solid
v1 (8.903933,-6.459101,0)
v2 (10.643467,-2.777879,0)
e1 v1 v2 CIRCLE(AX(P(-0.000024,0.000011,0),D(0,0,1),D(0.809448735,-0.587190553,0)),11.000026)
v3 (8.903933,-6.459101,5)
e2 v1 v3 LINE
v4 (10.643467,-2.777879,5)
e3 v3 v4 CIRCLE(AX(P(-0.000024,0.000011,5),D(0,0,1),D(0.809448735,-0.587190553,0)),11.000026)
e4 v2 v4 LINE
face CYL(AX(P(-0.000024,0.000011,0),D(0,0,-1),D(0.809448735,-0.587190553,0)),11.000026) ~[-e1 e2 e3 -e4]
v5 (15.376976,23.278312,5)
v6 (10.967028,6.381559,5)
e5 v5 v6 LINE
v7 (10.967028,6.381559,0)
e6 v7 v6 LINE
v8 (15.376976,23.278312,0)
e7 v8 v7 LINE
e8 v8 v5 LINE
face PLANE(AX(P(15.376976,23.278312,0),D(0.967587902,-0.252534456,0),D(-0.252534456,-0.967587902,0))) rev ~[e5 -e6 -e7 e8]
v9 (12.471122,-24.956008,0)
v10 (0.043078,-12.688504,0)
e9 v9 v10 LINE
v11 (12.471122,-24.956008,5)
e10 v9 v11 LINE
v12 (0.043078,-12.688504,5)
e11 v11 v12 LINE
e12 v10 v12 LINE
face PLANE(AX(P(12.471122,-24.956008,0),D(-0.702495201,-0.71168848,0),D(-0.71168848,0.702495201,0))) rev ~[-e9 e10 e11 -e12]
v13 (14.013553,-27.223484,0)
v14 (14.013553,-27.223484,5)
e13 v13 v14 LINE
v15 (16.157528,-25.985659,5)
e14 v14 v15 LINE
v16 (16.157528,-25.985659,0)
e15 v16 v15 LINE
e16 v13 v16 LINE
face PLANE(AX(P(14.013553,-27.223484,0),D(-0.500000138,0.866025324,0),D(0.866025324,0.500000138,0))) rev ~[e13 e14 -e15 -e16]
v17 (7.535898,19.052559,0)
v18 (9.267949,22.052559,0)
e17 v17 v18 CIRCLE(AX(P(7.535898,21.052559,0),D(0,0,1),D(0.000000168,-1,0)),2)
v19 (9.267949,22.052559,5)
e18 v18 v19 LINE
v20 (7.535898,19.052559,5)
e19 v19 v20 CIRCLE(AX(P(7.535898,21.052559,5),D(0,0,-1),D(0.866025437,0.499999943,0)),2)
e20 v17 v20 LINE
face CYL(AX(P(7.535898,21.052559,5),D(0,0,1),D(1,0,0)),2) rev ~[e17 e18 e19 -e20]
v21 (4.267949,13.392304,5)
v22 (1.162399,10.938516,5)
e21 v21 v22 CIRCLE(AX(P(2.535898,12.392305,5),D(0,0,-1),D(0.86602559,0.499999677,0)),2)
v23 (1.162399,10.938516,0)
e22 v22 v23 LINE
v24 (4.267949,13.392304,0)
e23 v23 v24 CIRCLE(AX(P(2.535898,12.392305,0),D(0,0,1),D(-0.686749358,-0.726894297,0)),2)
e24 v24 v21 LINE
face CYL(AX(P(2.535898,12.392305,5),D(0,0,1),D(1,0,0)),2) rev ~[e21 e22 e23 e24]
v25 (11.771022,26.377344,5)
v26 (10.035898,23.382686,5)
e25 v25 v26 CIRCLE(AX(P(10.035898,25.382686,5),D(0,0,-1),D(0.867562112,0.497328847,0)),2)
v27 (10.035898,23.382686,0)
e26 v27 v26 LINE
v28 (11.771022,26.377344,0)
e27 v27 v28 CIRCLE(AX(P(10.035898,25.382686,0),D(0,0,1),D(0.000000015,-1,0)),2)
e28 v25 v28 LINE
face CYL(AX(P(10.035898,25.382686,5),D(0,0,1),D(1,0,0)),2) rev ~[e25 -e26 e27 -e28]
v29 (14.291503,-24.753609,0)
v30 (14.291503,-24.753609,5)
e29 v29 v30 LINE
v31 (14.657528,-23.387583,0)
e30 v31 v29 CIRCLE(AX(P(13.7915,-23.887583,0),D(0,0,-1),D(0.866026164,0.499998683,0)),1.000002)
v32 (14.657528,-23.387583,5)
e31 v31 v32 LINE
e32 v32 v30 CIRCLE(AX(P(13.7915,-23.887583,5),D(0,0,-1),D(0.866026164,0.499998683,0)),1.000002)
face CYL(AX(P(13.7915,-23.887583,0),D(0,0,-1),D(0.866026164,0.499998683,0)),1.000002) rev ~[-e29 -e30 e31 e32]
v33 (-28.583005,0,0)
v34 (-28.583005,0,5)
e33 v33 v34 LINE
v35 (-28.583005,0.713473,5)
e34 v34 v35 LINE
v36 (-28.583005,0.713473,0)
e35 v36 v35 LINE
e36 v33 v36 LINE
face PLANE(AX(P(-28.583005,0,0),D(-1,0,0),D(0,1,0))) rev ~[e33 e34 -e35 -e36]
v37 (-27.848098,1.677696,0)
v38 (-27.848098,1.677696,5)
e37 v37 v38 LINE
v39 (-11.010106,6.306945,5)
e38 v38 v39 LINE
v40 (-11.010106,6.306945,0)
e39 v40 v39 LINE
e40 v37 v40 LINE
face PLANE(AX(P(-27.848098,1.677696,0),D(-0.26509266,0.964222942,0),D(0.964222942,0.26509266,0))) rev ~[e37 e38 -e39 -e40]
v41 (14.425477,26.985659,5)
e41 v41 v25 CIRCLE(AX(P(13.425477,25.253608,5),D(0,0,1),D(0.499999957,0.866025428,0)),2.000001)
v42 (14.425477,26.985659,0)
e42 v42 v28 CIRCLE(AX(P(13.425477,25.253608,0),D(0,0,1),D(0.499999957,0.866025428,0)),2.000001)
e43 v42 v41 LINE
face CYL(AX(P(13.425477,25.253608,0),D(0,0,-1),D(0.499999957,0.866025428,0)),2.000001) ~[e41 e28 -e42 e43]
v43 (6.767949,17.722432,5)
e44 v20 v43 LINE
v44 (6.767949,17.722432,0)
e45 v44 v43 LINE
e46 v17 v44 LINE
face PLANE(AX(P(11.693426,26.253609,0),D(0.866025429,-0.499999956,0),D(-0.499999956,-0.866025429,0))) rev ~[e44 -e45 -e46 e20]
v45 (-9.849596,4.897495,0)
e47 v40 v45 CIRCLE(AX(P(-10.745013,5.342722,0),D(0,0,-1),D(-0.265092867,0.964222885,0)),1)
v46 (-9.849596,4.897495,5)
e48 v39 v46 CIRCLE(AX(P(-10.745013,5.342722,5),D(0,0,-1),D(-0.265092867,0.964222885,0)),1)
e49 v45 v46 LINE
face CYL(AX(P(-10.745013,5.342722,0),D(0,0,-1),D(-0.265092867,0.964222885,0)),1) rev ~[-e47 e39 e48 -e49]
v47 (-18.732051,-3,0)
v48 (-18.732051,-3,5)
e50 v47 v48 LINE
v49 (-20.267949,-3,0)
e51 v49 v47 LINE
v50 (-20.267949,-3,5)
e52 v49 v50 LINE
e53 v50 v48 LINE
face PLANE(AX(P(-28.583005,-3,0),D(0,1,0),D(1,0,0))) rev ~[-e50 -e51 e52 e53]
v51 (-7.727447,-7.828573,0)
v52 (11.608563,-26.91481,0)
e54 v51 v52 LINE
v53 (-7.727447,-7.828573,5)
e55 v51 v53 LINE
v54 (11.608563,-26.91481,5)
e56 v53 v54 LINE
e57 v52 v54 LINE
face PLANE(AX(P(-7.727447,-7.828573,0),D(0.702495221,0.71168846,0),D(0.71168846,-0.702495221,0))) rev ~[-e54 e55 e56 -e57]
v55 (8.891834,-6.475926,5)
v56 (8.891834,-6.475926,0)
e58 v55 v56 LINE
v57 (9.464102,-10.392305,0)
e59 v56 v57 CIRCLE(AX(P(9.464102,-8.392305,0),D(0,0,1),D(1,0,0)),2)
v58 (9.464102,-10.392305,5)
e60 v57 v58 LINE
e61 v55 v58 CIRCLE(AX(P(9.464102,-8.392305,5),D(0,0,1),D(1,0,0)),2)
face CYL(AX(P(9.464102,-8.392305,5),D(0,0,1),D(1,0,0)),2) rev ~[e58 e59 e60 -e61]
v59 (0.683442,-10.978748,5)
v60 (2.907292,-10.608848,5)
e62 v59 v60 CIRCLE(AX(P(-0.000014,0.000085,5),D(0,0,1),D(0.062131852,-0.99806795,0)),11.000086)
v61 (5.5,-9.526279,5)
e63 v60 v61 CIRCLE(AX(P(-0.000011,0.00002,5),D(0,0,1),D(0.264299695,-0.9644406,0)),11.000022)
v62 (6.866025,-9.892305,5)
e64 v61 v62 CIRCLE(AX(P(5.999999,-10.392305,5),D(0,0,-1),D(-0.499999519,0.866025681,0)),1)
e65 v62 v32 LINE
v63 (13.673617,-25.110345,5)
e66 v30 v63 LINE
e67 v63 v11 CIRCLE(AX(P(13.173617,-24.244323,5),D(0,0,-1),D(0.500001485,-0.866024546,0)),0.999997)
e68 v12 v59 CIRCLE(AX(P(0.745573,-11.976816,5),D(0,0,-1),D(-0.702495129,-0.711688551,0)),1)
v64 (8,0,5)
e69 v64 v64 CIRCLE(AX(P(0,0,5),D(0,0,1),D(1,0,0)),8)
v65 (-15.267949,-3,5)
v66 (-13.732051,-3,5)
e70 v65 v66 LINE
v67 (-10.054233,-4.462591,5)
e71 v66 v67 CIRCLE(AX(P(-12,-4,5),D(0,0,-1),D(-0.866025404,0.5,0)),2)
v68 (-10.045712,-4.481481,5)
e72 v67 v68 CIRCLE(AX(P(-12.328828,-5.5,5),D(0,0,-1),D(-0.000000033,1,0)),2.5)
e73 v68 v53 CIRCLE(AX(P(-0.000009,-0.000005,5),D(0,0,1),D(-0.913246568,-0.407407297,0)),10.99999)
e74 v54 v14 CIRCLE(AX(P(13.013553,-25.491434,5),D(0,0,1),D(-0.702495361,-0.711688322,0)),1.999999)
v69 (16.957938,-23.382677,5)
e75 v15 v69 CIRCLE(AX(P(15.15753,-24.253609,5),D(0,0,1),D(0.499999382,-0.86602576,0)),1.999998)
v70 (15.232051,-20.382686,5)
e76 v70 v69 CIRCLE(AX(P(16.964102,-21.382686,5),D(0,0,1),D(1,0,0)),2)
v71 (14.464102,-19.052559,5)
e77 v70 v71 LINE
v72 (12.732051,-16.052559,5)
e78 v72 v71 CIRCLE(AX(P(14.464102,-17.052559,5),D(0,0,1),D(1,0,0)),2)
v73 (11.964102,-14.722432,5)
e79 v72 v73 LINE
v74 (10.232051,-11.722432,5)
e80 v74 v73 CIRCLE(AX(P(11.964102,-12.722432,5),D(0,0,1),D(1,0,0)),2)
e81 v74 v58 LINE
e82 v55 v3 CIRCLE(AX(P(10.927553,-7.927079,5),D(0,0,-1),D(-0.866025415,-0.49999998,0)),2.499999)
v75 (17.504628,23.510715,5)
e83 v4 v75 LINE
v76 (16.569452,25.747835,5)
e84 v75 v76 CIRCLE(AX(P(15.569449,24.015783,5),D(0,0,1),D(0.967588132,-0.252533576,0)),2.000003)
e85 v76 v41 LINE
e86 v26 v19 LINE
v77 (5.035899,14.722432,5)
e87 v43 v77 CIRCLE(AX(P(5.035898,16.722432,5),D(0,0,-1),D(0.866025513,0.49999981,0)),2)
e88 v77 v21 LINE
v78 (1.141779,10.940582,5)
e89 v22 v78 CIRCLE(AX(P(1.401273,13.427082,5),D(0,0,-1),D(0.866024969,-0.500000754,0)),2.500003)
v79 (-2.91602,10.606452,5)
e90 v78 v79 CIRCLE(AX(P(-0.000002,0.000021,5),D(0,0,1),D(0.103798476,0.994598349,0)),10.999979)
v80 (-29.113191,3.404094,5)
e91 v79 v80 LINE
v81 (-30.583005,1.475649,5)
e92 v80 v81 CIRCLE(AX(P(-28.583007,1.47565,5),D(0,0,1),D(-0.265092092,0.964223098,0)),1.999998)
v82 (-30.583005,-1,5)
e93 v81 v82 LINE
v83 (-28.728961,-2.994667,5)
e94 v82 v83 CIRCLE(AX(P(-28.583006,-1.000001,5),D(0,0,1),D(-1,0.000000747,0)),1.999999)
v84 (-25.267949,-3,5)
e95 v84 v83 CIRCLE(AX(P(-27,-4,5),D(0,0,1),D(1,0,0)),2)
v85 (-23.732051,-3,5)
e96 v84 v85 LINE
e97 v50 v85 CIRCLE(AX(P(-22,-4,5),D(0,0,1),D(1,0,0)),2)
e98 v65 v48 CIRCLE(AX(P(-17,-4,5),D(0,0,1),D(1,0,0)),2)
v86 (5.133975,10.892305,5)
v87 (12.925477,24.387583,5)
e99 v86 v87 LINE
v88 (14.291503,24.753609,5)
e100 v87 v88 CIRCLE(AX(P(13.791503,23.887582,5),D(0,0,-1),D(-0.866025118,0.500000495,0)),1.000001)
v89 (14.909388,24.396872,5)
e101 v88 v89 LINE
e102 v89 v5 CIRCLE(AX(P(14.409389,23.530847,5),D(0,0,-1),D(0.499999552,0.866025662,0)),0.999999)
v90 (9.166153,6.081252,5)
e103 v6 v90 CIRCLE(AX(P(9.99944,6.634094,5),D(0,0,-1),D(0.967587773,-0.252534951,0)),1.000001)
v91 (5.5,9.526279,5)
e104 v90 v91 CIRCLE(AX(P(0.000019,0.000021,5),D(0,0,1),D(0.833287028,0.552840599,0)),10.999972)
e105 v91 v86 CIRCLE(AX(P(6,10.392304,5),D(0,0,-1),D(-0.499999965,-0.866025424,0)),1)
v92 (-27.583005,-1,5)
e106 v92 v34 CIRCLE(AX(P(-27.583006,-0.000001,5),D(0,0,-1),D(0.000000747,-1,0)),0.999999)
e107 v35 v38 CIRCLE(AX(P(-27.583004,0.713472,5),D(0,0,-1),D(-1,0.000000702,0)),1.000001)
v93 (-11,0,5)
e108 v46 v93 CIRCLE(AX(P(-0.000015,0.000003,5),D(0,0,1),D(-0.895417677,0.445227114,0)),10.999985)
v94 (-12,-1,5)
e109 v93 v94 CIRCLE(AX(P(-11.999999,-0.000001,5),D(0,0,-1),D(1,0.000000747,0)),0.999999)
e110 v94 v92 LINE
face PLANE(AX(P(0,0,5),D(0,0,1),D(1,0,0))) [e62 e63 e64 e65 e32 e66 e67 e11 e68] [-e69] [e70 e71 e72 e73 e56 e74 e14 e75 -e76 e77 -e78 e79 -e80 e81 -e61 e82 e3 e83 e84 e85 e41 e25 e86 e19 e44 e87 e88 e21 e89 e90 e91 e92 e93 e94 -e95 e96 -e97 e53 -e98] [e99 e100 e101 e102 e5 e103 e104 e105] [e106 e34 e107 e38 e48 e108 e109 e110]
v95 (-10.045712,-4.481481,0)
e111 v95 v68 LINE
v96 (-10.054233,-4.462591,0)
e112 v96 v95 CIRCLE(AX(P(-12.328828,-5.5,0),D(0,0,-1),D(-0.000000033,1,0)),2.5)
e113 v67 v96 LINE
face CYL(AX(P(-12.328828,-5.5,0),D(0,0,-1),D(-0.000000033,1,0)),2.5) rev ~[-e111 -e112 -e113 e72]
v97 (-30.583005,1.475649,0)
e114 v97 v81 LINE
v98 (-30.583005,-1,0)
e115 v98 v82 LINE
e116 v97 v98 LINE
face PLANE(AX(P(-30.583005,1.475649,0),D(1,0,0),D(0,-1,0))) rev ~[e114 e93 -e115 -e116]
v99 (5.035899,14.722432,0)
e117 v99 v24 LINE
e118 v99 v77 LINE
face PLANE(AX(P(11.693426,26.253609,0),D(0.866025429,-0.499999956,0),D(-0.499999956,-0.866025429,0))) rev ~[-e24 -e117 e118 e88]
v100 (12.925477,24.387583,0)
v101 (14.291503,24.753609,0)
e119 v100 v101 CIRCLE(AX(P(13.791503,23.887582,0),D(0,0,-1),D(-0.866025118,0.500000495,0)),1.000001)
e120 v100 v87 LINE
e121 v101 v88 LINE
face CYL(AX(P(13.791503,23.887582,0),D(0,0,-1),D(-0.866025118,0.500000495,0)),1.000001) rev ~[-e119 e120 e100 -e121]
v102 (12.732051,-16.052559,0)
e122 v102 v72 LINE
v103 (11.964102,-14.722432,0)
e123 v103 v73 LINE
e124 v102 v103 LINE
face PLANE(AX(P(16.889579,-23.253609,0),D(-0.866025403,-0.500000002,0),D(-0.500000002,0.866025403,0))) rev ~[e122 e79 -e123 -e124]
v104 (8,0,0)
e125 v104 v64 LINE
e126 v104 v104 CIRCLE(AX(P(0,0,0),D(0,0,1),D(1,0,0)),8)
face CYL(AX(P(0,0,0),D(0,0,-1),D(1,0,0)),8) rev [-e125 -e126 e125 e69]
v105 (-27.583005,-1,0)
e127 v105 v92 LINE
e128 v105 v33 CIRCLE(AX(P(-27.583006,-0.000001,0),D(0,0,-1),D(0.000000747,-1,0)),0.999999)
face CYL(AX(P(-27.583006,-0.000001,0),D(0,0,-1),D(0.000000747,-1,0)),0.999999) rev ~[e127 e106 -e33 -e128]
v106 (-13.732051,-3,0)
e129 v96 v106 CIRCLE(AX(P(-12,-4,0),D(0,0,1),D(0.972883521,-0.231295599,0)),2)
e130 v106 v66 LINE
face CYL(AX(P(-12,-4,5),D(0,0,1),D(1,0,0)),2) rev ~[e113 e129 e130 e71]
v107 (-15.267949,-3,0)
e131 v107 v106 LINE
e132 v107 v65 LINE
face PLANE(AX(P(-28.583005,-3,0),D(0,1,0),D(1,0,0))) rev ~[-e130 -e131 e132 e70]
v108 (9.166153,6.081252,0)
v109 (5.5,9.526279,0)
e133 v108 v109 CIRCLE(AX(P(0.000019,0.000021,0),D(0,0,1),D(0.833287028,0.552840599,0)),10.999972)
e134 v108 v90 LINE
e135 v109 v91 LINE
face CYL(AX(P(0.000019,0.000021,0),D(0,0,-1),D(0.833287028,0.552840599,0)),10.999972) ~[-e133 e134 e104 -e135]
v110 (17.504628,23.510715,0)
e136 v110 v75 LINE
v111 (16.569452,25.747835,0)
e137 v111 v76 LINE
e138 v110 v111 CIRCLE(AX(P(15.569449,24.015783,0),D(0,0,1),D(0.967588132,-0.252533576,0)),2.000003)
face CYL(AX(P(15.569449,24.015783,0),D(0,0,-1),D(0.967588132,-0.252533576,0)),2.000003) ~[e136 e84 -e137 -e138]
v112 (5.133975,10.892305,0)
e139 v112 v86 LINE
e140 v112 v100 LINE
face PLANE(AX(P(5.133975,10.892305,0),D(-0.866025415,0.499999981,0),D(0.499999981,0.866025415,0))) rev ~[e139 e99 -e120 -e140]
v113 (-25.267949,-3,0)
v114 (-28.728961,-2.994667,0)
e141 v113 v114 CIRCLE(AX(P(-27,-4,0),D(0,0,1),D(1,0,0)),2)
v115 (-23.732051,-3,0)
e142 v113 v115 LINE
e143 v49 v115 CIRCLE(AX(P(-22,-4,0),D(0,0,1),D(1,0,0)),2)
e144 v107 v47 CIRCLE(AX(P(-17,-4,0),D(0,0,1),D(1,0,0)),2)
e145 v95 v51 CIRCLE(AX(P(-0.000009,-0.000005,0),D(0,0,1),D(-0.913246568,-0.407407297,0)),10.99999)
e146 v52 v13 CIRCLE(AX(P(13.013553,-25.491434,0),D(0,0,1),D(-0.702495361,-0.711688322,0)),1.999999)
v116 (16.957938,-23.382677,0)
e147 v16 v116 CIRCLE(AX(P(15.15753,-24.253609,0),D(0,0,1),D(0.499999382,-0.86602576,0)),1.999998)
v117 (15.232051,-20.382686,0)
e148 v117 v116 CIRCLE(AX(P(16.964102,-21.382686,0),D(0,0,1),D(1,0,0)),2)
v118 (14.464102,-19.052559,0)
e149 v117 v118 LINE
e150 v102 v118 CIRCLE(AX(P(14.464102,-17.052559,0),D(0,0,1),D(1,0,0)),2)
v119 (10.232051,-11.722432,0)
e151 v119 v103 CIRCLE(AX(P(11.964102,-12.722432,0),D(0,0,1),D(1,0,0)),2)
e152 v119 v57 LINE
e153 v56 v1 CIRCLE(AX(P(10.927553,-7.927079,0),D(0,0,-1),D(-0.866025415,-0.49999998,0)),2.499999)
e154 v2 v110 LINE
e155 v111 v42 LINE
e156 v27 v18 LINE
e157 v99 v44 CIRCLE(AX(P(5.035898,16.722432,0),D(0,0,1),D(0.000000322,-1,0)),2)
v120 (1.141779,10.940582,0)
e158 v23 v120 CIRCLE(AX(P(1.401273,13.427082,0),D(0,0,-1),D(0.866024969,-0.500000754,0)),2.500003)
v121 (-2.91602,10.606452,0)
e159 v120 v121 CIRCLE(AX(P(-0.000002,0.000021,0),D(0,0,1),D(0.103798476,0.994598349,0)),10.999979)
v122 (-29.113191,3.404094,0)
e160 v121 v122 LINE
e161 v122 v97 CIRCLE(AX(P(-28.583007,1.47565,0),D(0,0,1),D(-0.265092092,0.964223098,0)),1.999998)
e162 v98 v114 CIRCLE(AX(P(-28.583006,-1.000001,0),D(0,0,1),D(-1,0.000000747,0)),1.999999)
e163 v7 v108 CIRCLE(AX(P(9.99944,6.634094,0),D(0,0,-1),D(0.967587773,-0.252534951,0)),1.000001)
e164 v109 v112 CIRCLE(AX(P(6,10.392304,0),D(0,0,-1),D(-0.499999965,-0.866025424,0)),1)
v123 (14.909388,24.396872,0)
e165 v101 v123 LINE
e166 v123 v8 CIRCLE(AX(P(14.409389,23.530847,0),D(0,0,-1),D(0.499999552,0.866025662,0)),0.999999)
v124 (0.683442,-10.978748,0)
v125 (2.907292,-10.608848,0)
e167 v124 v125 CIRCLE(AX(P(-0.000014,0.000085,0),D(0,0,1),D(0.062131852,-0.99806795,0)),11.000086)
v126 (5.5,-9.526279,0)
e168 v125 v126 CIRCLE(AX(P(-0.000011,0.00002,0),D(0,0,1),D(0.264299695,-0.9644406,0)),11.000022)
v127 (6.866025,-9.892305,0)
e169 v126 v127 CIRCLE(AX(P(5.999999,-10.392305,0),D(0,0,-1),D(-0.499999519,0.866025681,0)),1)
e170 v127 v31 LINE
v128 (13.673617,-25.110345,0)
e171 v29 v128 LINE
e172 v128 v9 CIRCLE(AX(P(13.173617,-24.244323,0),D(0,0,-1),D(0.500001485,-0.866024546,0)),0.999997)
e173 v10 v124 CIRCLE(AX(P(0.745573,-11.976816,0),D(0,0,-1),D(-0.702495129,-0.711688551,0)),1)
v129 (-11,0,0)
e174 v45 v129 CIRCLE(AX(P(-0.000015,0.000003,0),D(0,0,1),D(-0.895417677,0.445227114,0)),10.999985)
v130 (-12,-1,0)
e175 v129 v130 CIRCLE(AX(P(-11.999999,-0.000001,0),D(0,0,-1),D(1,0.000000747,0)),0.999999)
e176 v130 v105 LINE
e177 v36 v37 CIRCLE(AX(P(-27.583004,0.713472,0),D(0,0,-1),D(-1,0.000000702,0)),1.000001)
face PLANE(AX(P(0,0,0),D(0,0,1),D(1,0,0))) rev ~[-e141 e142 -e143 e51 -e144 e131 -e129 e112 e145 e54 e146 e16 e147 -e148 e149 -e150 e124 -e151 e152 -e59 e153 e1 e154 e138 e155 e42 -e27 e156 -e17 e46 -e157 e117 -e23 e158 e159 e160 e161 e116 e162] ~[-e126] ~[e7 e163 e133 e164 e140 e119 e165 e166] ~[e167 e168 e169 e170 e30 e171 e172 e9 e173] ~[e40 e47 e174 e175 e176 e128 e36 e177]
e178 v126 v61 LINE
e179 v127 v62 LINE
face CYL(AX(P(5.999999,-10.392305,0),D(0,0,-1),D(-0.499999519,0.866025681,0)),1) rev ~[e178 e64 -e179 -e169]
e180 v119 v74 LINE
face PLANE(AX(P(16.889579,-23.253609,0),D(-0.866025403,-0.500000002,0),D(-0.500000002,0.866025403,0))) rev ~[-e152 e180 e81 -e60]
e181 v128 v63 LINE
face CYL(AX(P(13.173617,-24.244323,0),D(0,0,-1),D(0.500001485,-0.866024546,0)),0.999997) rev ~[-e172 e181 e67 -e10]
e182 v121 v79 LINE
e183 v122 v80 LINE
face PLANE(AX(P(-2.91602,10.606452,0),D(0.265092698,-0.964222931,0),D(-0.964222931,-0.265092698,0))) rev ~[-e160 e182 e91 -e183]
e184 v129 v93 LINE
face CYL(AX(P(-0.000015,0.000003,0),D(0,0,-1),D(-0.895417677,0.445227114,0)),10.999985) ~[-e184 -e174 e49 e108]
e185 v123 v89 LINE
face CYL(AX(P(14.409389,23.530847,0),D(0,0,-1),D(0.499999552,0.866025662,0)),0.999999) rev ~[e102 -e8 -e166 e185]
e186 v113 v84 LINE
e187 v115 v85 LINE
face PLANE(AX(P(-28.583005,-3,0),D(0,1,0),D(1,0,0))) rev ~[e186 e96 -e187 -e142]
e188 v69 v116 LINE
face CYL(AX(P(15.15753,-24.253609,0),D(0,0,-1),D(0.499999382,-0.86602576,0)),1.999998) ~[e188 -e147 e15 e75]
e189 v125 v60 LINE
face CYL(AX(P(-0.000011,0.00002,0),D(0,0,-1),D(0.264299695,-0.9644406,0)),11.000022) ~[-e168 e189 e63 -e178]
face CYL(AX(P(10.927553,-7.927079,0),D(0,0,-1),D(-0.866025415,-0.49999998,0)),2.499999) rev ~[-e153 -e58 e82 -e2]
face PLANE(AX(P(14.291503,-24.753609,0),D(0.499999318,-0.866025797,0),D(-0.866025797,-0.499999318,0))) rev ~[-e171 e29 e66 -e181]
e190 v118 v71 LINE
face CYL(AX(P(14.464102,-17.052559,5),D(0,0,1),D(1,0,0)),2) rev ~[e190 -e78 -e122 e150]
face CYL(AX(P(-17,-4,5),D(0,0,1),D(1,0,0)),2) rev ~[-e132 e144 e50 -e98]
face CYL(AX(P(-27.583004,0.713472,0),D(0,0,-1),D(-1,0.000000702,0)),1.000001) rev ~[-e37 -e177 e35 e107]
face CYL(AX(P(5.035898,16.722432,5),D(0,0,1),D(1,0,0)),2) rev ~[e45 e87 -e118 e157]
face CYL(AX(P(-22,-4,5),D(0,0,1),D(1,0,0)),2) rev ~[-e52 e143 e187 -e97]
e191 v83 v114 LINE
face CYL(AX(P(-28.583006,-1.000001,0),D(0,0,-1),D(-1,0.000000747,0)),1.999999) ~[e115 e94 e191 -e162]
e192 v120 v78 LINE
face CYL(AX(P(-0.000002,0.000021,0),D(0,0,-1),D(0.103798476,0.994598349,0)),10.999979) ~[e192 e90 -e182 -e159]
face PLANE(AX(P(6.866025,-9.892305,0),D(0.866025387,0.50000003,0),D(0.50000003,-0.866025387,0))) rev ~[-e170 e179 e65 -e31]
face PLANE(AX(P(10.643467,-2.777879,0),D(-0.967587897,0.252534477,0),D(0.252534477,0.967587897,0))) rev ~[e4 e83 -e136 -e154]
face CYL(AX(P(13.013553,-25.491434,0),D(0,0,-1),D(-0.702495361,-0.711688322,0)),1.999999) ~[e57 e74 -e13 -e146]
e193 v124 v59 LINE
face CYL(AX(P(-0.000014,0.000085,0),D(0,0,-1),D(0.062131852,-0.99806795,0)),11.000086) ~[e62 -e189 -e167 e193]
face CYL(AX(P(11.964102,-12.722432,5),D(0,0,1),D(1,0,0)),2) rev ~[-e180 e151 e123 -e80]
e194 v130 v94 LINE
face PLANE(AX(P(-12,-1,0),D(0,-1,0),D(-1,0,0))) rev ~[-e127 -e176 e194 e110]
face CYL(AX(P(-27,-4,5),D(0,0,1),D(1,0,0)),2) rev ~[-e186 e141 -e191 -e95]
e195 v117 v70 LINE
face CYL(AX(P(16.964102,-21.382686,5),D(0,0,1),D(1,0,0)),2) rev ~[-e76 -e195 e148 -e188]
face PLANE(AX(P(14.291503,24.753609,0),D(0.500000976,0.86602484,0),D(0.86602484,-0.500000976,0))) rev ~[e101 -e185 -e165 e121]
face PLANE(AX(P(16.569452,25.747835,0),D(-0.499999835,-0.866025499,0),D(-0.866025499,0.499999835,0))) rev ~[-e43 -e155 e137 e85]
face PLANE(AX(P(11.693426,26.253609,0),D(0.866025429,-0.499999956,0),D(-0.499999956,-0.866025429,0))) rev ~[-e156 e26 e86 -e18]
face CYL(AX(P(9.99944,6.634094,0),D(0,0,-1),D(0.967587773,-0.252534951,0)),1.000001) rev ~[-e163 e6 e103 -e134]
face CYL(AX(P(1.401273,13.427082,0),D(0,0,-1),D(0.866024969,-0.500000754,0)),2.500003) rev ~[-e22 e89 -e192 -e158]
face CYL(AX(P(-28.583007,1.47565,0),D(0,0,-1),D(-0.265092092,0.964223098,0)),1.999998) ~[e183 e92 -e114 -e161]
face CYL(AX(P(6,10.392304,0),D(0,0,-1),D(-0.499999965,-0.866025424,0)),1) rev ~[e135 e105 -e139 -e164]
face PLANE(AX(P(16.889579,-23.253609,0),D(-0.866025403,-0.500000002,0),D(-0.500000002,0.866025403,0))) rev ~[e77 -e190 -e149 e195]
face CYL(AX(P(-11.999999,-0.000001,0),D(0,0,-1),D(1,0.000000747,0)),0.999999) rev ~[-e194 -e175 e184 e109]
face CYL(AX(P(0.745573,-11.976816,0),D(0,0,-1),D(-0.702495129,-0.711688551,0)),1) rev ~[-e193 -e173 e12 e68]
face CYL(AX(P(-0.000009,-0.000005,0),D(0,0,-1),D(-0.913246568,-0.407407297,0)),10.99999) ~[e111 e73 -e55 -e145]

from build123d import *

# Parameters (mm, degrees)
F0_R     = 8
F1_DEPTH = 5
F2_R     = 2
F3_DEPTH = 25


with BuildPart() as f1:
    # F0 (on Top) → F1 (new body)
    with BuildSketch(Plane.XY):
        with BuildLine():
            ThreePointArc((-30.583005, -1), (-29.997219, -2.414214), (-28.583005, -3))
            Line((-28.583005, -3), (-12.328828, -3))
            ThreePointArc((-12.328828, -3), (-10.968, -3.402824), (-10.045712, -4.481481))
            ThreePointArc((-10.045712, -4.481481), (-9.04279, -6.263222), (-7.727447, -7.828573))
            Line((-7.727447, -7.828573), (11.608563, -26.91481))
            ThreePointArc((11.608563, -26.91481), (12.758948, -27.475161), (14.013553, -27.223484))
            Line((14.013553, -27.223484), (16.157528, -25.985659))
            ThreePointArc((16.157528, -25.985659), (17.08938, -24.771247), (16.889579, -23.253609))
            Line((16.889579, -23.253609), (8.76249, -9.177078))
            ThreePointArc((8.76249, -9.177078), (8.430932, -7.797155), (8.903933, -6.459101))
            ThreePointArc((8.903933, -6.459101), (9.945504, -4.699675), (10.643467, -2.777879))
            Line((10.643467, -2.777879), (17.504628, 23.510715))
            ThreePointArc((17.504628, 23.510715), (17.414713, 24.787153), (16.569452, 25.747835))
            Line((16.569452, 25.747835), (14.425477, 26.985659))
            ThreePointArc((14.425477, 26.985659), (12.907839, 27.18546), (11.693426, 26.253609))
            Line((11.693426, 26.253609), (3.566338, 12.177078))
            ThreePointArc((3.566338, 12.177078), (2.537068, 11.199979), (1.141779, 10.940582))
            ThreePointArc((1.141779, 10.940582), (-0.902714, 10.962897), (-2.91602, 10.606452))
            Line((-2.91602, 10.606452), (-29.113191, 3.404094))
            ThreePointArc((-29.113191, 3.404094), (-30.173661, 2.688008), (-30.583005, 1.475649))
            Line((-30.583005, 1.475649), (-30.583005, -1))
        make_face()
        with BuildLine():
            Line((6.866025, -9.892305), (14.657528, -23.387583))
            ThreePointArc((14.657528, -23.387583), (14.757428, -24.146402), (14.291503, -24.753609))
            Line((14.291503, -24.753609), (13.673617, -25.110345))
            ThreePointArc((13.673617, -25.110345), (13.046314, -25.236184), (12.471122, -24.956008))
            Line((12.471122, -24.956008), (0.043078, -12.688504))
            ThreePointArc((0.043078, -12.688504), (-0.190899, -11.626074), (0.683442, -10.978748))
            ThreePointArc((0.683442, -10.978748), (1.804868, -10.850919), (2.907292, -10.608848))
            ThreePointArc((2.907292, -10.608848), (4.238352, -10.150683), (5.5, -9.526279))
            ThreePointArc((5.5, -9.526279), (6.258819, -9.426379), (6.866025, -9.892305))
        make_face(mode=Mode.SUBTRACT)
        with BuildLine():
            ThreePointArc((-11.010106, 6.306945), (-9.973026, 5.97836), (-9.849596, 4.897495))
            ThreePointArc((-9.849596, 4.897495), (-10.708538, 2.515397), (-11, 0))
            ThreePointArc((-11, 0), (-11.292893, -0.707107), (-12, -1))
            Line((-12, -1), (-27.583005, -1))
            ThreePointArc((-27.583005, -1), (-28.290112, -0.707107), (-28.583005, 0))
            Line((-28.583005, 0), (-28.583005, 0.713473))
            ThreePointArc((-28.583005, 0.713473), (-28.378333, 1.319652), (-27.848098, 1.677696))
            Line((-27.848098, 1.677696), (-11.010106, 6.306945))
        make_face(mode=Mode.SUBTRACT)
        Circle(F0_R, mode=Mode.SUBTRACT)
        with BuildLine():
            Line((5.133975, 10.892305), (12.925477, 24.387583))
            ThreePointArc((12.925477, 24.387583), (13.532684, 24.853509), (14.291503, 24.753609))
            Line((14.291503, 24.753609), (14.909388, 24.396872))
            ThreePointArc((14.909388, 24.396872), (15.332019, 23.916531), (15.376976, 23.278312))
            Line((15.376976, 23.278312), (10.967028, 6.381559))
            ThreePointArc((10.967028, 6.381559), (10.163925, 5.647714), (9.166153, 6.081252))
            ThreePointArc((9.166153, 6.081252), (7.532667, 8.016167), (5.5, 9.526279))
            ThreePointArc((5.5, 9.526279), (5.034074, 10.133486), (5.133975, 10.892305))
        make_face(mode=Mode.SUBTRACT)
    extrude(amount=F1_DEPTH)

    # F2 (on face) → F3 (cut)
    with BuildSketch(Plane.XY.offset(5)):
        with Locations((-27, -4)):
            Circle(F2_R)
        with Locations((-22, -4)):
            Circle(F2_R)
        with Locations((-17, -4)):
            Circle(F2_R)
        with Locations((-12, -4)):
            Circle(F2_R)
        with Locations((9.464102, -8.392305)):
            Circle(F2_R)
        with Locations((11.964102, -12.722432)):
            Circle(F2_R)
        with Locations((16.964102, -21.382686)):
            Circle(F2_R)
        with Locations((14.464102, -17.052559)):
            Circle(F2_R)
        with Locations((2.535898, 12.392305)):
            Circle(F2_R)
        with Locations((5.035898, 16.722432)):
            Circle(F2_R)
        with Locations((10.035898, 25.382686)):
            Circle(F2_R)
        with Locations((7.535898, 21.052559)):
            Circle(F2_R)
    extrude(amount=-F3_DEPTH, mode=Mode.SUBTRACT)


solid = f1.part
